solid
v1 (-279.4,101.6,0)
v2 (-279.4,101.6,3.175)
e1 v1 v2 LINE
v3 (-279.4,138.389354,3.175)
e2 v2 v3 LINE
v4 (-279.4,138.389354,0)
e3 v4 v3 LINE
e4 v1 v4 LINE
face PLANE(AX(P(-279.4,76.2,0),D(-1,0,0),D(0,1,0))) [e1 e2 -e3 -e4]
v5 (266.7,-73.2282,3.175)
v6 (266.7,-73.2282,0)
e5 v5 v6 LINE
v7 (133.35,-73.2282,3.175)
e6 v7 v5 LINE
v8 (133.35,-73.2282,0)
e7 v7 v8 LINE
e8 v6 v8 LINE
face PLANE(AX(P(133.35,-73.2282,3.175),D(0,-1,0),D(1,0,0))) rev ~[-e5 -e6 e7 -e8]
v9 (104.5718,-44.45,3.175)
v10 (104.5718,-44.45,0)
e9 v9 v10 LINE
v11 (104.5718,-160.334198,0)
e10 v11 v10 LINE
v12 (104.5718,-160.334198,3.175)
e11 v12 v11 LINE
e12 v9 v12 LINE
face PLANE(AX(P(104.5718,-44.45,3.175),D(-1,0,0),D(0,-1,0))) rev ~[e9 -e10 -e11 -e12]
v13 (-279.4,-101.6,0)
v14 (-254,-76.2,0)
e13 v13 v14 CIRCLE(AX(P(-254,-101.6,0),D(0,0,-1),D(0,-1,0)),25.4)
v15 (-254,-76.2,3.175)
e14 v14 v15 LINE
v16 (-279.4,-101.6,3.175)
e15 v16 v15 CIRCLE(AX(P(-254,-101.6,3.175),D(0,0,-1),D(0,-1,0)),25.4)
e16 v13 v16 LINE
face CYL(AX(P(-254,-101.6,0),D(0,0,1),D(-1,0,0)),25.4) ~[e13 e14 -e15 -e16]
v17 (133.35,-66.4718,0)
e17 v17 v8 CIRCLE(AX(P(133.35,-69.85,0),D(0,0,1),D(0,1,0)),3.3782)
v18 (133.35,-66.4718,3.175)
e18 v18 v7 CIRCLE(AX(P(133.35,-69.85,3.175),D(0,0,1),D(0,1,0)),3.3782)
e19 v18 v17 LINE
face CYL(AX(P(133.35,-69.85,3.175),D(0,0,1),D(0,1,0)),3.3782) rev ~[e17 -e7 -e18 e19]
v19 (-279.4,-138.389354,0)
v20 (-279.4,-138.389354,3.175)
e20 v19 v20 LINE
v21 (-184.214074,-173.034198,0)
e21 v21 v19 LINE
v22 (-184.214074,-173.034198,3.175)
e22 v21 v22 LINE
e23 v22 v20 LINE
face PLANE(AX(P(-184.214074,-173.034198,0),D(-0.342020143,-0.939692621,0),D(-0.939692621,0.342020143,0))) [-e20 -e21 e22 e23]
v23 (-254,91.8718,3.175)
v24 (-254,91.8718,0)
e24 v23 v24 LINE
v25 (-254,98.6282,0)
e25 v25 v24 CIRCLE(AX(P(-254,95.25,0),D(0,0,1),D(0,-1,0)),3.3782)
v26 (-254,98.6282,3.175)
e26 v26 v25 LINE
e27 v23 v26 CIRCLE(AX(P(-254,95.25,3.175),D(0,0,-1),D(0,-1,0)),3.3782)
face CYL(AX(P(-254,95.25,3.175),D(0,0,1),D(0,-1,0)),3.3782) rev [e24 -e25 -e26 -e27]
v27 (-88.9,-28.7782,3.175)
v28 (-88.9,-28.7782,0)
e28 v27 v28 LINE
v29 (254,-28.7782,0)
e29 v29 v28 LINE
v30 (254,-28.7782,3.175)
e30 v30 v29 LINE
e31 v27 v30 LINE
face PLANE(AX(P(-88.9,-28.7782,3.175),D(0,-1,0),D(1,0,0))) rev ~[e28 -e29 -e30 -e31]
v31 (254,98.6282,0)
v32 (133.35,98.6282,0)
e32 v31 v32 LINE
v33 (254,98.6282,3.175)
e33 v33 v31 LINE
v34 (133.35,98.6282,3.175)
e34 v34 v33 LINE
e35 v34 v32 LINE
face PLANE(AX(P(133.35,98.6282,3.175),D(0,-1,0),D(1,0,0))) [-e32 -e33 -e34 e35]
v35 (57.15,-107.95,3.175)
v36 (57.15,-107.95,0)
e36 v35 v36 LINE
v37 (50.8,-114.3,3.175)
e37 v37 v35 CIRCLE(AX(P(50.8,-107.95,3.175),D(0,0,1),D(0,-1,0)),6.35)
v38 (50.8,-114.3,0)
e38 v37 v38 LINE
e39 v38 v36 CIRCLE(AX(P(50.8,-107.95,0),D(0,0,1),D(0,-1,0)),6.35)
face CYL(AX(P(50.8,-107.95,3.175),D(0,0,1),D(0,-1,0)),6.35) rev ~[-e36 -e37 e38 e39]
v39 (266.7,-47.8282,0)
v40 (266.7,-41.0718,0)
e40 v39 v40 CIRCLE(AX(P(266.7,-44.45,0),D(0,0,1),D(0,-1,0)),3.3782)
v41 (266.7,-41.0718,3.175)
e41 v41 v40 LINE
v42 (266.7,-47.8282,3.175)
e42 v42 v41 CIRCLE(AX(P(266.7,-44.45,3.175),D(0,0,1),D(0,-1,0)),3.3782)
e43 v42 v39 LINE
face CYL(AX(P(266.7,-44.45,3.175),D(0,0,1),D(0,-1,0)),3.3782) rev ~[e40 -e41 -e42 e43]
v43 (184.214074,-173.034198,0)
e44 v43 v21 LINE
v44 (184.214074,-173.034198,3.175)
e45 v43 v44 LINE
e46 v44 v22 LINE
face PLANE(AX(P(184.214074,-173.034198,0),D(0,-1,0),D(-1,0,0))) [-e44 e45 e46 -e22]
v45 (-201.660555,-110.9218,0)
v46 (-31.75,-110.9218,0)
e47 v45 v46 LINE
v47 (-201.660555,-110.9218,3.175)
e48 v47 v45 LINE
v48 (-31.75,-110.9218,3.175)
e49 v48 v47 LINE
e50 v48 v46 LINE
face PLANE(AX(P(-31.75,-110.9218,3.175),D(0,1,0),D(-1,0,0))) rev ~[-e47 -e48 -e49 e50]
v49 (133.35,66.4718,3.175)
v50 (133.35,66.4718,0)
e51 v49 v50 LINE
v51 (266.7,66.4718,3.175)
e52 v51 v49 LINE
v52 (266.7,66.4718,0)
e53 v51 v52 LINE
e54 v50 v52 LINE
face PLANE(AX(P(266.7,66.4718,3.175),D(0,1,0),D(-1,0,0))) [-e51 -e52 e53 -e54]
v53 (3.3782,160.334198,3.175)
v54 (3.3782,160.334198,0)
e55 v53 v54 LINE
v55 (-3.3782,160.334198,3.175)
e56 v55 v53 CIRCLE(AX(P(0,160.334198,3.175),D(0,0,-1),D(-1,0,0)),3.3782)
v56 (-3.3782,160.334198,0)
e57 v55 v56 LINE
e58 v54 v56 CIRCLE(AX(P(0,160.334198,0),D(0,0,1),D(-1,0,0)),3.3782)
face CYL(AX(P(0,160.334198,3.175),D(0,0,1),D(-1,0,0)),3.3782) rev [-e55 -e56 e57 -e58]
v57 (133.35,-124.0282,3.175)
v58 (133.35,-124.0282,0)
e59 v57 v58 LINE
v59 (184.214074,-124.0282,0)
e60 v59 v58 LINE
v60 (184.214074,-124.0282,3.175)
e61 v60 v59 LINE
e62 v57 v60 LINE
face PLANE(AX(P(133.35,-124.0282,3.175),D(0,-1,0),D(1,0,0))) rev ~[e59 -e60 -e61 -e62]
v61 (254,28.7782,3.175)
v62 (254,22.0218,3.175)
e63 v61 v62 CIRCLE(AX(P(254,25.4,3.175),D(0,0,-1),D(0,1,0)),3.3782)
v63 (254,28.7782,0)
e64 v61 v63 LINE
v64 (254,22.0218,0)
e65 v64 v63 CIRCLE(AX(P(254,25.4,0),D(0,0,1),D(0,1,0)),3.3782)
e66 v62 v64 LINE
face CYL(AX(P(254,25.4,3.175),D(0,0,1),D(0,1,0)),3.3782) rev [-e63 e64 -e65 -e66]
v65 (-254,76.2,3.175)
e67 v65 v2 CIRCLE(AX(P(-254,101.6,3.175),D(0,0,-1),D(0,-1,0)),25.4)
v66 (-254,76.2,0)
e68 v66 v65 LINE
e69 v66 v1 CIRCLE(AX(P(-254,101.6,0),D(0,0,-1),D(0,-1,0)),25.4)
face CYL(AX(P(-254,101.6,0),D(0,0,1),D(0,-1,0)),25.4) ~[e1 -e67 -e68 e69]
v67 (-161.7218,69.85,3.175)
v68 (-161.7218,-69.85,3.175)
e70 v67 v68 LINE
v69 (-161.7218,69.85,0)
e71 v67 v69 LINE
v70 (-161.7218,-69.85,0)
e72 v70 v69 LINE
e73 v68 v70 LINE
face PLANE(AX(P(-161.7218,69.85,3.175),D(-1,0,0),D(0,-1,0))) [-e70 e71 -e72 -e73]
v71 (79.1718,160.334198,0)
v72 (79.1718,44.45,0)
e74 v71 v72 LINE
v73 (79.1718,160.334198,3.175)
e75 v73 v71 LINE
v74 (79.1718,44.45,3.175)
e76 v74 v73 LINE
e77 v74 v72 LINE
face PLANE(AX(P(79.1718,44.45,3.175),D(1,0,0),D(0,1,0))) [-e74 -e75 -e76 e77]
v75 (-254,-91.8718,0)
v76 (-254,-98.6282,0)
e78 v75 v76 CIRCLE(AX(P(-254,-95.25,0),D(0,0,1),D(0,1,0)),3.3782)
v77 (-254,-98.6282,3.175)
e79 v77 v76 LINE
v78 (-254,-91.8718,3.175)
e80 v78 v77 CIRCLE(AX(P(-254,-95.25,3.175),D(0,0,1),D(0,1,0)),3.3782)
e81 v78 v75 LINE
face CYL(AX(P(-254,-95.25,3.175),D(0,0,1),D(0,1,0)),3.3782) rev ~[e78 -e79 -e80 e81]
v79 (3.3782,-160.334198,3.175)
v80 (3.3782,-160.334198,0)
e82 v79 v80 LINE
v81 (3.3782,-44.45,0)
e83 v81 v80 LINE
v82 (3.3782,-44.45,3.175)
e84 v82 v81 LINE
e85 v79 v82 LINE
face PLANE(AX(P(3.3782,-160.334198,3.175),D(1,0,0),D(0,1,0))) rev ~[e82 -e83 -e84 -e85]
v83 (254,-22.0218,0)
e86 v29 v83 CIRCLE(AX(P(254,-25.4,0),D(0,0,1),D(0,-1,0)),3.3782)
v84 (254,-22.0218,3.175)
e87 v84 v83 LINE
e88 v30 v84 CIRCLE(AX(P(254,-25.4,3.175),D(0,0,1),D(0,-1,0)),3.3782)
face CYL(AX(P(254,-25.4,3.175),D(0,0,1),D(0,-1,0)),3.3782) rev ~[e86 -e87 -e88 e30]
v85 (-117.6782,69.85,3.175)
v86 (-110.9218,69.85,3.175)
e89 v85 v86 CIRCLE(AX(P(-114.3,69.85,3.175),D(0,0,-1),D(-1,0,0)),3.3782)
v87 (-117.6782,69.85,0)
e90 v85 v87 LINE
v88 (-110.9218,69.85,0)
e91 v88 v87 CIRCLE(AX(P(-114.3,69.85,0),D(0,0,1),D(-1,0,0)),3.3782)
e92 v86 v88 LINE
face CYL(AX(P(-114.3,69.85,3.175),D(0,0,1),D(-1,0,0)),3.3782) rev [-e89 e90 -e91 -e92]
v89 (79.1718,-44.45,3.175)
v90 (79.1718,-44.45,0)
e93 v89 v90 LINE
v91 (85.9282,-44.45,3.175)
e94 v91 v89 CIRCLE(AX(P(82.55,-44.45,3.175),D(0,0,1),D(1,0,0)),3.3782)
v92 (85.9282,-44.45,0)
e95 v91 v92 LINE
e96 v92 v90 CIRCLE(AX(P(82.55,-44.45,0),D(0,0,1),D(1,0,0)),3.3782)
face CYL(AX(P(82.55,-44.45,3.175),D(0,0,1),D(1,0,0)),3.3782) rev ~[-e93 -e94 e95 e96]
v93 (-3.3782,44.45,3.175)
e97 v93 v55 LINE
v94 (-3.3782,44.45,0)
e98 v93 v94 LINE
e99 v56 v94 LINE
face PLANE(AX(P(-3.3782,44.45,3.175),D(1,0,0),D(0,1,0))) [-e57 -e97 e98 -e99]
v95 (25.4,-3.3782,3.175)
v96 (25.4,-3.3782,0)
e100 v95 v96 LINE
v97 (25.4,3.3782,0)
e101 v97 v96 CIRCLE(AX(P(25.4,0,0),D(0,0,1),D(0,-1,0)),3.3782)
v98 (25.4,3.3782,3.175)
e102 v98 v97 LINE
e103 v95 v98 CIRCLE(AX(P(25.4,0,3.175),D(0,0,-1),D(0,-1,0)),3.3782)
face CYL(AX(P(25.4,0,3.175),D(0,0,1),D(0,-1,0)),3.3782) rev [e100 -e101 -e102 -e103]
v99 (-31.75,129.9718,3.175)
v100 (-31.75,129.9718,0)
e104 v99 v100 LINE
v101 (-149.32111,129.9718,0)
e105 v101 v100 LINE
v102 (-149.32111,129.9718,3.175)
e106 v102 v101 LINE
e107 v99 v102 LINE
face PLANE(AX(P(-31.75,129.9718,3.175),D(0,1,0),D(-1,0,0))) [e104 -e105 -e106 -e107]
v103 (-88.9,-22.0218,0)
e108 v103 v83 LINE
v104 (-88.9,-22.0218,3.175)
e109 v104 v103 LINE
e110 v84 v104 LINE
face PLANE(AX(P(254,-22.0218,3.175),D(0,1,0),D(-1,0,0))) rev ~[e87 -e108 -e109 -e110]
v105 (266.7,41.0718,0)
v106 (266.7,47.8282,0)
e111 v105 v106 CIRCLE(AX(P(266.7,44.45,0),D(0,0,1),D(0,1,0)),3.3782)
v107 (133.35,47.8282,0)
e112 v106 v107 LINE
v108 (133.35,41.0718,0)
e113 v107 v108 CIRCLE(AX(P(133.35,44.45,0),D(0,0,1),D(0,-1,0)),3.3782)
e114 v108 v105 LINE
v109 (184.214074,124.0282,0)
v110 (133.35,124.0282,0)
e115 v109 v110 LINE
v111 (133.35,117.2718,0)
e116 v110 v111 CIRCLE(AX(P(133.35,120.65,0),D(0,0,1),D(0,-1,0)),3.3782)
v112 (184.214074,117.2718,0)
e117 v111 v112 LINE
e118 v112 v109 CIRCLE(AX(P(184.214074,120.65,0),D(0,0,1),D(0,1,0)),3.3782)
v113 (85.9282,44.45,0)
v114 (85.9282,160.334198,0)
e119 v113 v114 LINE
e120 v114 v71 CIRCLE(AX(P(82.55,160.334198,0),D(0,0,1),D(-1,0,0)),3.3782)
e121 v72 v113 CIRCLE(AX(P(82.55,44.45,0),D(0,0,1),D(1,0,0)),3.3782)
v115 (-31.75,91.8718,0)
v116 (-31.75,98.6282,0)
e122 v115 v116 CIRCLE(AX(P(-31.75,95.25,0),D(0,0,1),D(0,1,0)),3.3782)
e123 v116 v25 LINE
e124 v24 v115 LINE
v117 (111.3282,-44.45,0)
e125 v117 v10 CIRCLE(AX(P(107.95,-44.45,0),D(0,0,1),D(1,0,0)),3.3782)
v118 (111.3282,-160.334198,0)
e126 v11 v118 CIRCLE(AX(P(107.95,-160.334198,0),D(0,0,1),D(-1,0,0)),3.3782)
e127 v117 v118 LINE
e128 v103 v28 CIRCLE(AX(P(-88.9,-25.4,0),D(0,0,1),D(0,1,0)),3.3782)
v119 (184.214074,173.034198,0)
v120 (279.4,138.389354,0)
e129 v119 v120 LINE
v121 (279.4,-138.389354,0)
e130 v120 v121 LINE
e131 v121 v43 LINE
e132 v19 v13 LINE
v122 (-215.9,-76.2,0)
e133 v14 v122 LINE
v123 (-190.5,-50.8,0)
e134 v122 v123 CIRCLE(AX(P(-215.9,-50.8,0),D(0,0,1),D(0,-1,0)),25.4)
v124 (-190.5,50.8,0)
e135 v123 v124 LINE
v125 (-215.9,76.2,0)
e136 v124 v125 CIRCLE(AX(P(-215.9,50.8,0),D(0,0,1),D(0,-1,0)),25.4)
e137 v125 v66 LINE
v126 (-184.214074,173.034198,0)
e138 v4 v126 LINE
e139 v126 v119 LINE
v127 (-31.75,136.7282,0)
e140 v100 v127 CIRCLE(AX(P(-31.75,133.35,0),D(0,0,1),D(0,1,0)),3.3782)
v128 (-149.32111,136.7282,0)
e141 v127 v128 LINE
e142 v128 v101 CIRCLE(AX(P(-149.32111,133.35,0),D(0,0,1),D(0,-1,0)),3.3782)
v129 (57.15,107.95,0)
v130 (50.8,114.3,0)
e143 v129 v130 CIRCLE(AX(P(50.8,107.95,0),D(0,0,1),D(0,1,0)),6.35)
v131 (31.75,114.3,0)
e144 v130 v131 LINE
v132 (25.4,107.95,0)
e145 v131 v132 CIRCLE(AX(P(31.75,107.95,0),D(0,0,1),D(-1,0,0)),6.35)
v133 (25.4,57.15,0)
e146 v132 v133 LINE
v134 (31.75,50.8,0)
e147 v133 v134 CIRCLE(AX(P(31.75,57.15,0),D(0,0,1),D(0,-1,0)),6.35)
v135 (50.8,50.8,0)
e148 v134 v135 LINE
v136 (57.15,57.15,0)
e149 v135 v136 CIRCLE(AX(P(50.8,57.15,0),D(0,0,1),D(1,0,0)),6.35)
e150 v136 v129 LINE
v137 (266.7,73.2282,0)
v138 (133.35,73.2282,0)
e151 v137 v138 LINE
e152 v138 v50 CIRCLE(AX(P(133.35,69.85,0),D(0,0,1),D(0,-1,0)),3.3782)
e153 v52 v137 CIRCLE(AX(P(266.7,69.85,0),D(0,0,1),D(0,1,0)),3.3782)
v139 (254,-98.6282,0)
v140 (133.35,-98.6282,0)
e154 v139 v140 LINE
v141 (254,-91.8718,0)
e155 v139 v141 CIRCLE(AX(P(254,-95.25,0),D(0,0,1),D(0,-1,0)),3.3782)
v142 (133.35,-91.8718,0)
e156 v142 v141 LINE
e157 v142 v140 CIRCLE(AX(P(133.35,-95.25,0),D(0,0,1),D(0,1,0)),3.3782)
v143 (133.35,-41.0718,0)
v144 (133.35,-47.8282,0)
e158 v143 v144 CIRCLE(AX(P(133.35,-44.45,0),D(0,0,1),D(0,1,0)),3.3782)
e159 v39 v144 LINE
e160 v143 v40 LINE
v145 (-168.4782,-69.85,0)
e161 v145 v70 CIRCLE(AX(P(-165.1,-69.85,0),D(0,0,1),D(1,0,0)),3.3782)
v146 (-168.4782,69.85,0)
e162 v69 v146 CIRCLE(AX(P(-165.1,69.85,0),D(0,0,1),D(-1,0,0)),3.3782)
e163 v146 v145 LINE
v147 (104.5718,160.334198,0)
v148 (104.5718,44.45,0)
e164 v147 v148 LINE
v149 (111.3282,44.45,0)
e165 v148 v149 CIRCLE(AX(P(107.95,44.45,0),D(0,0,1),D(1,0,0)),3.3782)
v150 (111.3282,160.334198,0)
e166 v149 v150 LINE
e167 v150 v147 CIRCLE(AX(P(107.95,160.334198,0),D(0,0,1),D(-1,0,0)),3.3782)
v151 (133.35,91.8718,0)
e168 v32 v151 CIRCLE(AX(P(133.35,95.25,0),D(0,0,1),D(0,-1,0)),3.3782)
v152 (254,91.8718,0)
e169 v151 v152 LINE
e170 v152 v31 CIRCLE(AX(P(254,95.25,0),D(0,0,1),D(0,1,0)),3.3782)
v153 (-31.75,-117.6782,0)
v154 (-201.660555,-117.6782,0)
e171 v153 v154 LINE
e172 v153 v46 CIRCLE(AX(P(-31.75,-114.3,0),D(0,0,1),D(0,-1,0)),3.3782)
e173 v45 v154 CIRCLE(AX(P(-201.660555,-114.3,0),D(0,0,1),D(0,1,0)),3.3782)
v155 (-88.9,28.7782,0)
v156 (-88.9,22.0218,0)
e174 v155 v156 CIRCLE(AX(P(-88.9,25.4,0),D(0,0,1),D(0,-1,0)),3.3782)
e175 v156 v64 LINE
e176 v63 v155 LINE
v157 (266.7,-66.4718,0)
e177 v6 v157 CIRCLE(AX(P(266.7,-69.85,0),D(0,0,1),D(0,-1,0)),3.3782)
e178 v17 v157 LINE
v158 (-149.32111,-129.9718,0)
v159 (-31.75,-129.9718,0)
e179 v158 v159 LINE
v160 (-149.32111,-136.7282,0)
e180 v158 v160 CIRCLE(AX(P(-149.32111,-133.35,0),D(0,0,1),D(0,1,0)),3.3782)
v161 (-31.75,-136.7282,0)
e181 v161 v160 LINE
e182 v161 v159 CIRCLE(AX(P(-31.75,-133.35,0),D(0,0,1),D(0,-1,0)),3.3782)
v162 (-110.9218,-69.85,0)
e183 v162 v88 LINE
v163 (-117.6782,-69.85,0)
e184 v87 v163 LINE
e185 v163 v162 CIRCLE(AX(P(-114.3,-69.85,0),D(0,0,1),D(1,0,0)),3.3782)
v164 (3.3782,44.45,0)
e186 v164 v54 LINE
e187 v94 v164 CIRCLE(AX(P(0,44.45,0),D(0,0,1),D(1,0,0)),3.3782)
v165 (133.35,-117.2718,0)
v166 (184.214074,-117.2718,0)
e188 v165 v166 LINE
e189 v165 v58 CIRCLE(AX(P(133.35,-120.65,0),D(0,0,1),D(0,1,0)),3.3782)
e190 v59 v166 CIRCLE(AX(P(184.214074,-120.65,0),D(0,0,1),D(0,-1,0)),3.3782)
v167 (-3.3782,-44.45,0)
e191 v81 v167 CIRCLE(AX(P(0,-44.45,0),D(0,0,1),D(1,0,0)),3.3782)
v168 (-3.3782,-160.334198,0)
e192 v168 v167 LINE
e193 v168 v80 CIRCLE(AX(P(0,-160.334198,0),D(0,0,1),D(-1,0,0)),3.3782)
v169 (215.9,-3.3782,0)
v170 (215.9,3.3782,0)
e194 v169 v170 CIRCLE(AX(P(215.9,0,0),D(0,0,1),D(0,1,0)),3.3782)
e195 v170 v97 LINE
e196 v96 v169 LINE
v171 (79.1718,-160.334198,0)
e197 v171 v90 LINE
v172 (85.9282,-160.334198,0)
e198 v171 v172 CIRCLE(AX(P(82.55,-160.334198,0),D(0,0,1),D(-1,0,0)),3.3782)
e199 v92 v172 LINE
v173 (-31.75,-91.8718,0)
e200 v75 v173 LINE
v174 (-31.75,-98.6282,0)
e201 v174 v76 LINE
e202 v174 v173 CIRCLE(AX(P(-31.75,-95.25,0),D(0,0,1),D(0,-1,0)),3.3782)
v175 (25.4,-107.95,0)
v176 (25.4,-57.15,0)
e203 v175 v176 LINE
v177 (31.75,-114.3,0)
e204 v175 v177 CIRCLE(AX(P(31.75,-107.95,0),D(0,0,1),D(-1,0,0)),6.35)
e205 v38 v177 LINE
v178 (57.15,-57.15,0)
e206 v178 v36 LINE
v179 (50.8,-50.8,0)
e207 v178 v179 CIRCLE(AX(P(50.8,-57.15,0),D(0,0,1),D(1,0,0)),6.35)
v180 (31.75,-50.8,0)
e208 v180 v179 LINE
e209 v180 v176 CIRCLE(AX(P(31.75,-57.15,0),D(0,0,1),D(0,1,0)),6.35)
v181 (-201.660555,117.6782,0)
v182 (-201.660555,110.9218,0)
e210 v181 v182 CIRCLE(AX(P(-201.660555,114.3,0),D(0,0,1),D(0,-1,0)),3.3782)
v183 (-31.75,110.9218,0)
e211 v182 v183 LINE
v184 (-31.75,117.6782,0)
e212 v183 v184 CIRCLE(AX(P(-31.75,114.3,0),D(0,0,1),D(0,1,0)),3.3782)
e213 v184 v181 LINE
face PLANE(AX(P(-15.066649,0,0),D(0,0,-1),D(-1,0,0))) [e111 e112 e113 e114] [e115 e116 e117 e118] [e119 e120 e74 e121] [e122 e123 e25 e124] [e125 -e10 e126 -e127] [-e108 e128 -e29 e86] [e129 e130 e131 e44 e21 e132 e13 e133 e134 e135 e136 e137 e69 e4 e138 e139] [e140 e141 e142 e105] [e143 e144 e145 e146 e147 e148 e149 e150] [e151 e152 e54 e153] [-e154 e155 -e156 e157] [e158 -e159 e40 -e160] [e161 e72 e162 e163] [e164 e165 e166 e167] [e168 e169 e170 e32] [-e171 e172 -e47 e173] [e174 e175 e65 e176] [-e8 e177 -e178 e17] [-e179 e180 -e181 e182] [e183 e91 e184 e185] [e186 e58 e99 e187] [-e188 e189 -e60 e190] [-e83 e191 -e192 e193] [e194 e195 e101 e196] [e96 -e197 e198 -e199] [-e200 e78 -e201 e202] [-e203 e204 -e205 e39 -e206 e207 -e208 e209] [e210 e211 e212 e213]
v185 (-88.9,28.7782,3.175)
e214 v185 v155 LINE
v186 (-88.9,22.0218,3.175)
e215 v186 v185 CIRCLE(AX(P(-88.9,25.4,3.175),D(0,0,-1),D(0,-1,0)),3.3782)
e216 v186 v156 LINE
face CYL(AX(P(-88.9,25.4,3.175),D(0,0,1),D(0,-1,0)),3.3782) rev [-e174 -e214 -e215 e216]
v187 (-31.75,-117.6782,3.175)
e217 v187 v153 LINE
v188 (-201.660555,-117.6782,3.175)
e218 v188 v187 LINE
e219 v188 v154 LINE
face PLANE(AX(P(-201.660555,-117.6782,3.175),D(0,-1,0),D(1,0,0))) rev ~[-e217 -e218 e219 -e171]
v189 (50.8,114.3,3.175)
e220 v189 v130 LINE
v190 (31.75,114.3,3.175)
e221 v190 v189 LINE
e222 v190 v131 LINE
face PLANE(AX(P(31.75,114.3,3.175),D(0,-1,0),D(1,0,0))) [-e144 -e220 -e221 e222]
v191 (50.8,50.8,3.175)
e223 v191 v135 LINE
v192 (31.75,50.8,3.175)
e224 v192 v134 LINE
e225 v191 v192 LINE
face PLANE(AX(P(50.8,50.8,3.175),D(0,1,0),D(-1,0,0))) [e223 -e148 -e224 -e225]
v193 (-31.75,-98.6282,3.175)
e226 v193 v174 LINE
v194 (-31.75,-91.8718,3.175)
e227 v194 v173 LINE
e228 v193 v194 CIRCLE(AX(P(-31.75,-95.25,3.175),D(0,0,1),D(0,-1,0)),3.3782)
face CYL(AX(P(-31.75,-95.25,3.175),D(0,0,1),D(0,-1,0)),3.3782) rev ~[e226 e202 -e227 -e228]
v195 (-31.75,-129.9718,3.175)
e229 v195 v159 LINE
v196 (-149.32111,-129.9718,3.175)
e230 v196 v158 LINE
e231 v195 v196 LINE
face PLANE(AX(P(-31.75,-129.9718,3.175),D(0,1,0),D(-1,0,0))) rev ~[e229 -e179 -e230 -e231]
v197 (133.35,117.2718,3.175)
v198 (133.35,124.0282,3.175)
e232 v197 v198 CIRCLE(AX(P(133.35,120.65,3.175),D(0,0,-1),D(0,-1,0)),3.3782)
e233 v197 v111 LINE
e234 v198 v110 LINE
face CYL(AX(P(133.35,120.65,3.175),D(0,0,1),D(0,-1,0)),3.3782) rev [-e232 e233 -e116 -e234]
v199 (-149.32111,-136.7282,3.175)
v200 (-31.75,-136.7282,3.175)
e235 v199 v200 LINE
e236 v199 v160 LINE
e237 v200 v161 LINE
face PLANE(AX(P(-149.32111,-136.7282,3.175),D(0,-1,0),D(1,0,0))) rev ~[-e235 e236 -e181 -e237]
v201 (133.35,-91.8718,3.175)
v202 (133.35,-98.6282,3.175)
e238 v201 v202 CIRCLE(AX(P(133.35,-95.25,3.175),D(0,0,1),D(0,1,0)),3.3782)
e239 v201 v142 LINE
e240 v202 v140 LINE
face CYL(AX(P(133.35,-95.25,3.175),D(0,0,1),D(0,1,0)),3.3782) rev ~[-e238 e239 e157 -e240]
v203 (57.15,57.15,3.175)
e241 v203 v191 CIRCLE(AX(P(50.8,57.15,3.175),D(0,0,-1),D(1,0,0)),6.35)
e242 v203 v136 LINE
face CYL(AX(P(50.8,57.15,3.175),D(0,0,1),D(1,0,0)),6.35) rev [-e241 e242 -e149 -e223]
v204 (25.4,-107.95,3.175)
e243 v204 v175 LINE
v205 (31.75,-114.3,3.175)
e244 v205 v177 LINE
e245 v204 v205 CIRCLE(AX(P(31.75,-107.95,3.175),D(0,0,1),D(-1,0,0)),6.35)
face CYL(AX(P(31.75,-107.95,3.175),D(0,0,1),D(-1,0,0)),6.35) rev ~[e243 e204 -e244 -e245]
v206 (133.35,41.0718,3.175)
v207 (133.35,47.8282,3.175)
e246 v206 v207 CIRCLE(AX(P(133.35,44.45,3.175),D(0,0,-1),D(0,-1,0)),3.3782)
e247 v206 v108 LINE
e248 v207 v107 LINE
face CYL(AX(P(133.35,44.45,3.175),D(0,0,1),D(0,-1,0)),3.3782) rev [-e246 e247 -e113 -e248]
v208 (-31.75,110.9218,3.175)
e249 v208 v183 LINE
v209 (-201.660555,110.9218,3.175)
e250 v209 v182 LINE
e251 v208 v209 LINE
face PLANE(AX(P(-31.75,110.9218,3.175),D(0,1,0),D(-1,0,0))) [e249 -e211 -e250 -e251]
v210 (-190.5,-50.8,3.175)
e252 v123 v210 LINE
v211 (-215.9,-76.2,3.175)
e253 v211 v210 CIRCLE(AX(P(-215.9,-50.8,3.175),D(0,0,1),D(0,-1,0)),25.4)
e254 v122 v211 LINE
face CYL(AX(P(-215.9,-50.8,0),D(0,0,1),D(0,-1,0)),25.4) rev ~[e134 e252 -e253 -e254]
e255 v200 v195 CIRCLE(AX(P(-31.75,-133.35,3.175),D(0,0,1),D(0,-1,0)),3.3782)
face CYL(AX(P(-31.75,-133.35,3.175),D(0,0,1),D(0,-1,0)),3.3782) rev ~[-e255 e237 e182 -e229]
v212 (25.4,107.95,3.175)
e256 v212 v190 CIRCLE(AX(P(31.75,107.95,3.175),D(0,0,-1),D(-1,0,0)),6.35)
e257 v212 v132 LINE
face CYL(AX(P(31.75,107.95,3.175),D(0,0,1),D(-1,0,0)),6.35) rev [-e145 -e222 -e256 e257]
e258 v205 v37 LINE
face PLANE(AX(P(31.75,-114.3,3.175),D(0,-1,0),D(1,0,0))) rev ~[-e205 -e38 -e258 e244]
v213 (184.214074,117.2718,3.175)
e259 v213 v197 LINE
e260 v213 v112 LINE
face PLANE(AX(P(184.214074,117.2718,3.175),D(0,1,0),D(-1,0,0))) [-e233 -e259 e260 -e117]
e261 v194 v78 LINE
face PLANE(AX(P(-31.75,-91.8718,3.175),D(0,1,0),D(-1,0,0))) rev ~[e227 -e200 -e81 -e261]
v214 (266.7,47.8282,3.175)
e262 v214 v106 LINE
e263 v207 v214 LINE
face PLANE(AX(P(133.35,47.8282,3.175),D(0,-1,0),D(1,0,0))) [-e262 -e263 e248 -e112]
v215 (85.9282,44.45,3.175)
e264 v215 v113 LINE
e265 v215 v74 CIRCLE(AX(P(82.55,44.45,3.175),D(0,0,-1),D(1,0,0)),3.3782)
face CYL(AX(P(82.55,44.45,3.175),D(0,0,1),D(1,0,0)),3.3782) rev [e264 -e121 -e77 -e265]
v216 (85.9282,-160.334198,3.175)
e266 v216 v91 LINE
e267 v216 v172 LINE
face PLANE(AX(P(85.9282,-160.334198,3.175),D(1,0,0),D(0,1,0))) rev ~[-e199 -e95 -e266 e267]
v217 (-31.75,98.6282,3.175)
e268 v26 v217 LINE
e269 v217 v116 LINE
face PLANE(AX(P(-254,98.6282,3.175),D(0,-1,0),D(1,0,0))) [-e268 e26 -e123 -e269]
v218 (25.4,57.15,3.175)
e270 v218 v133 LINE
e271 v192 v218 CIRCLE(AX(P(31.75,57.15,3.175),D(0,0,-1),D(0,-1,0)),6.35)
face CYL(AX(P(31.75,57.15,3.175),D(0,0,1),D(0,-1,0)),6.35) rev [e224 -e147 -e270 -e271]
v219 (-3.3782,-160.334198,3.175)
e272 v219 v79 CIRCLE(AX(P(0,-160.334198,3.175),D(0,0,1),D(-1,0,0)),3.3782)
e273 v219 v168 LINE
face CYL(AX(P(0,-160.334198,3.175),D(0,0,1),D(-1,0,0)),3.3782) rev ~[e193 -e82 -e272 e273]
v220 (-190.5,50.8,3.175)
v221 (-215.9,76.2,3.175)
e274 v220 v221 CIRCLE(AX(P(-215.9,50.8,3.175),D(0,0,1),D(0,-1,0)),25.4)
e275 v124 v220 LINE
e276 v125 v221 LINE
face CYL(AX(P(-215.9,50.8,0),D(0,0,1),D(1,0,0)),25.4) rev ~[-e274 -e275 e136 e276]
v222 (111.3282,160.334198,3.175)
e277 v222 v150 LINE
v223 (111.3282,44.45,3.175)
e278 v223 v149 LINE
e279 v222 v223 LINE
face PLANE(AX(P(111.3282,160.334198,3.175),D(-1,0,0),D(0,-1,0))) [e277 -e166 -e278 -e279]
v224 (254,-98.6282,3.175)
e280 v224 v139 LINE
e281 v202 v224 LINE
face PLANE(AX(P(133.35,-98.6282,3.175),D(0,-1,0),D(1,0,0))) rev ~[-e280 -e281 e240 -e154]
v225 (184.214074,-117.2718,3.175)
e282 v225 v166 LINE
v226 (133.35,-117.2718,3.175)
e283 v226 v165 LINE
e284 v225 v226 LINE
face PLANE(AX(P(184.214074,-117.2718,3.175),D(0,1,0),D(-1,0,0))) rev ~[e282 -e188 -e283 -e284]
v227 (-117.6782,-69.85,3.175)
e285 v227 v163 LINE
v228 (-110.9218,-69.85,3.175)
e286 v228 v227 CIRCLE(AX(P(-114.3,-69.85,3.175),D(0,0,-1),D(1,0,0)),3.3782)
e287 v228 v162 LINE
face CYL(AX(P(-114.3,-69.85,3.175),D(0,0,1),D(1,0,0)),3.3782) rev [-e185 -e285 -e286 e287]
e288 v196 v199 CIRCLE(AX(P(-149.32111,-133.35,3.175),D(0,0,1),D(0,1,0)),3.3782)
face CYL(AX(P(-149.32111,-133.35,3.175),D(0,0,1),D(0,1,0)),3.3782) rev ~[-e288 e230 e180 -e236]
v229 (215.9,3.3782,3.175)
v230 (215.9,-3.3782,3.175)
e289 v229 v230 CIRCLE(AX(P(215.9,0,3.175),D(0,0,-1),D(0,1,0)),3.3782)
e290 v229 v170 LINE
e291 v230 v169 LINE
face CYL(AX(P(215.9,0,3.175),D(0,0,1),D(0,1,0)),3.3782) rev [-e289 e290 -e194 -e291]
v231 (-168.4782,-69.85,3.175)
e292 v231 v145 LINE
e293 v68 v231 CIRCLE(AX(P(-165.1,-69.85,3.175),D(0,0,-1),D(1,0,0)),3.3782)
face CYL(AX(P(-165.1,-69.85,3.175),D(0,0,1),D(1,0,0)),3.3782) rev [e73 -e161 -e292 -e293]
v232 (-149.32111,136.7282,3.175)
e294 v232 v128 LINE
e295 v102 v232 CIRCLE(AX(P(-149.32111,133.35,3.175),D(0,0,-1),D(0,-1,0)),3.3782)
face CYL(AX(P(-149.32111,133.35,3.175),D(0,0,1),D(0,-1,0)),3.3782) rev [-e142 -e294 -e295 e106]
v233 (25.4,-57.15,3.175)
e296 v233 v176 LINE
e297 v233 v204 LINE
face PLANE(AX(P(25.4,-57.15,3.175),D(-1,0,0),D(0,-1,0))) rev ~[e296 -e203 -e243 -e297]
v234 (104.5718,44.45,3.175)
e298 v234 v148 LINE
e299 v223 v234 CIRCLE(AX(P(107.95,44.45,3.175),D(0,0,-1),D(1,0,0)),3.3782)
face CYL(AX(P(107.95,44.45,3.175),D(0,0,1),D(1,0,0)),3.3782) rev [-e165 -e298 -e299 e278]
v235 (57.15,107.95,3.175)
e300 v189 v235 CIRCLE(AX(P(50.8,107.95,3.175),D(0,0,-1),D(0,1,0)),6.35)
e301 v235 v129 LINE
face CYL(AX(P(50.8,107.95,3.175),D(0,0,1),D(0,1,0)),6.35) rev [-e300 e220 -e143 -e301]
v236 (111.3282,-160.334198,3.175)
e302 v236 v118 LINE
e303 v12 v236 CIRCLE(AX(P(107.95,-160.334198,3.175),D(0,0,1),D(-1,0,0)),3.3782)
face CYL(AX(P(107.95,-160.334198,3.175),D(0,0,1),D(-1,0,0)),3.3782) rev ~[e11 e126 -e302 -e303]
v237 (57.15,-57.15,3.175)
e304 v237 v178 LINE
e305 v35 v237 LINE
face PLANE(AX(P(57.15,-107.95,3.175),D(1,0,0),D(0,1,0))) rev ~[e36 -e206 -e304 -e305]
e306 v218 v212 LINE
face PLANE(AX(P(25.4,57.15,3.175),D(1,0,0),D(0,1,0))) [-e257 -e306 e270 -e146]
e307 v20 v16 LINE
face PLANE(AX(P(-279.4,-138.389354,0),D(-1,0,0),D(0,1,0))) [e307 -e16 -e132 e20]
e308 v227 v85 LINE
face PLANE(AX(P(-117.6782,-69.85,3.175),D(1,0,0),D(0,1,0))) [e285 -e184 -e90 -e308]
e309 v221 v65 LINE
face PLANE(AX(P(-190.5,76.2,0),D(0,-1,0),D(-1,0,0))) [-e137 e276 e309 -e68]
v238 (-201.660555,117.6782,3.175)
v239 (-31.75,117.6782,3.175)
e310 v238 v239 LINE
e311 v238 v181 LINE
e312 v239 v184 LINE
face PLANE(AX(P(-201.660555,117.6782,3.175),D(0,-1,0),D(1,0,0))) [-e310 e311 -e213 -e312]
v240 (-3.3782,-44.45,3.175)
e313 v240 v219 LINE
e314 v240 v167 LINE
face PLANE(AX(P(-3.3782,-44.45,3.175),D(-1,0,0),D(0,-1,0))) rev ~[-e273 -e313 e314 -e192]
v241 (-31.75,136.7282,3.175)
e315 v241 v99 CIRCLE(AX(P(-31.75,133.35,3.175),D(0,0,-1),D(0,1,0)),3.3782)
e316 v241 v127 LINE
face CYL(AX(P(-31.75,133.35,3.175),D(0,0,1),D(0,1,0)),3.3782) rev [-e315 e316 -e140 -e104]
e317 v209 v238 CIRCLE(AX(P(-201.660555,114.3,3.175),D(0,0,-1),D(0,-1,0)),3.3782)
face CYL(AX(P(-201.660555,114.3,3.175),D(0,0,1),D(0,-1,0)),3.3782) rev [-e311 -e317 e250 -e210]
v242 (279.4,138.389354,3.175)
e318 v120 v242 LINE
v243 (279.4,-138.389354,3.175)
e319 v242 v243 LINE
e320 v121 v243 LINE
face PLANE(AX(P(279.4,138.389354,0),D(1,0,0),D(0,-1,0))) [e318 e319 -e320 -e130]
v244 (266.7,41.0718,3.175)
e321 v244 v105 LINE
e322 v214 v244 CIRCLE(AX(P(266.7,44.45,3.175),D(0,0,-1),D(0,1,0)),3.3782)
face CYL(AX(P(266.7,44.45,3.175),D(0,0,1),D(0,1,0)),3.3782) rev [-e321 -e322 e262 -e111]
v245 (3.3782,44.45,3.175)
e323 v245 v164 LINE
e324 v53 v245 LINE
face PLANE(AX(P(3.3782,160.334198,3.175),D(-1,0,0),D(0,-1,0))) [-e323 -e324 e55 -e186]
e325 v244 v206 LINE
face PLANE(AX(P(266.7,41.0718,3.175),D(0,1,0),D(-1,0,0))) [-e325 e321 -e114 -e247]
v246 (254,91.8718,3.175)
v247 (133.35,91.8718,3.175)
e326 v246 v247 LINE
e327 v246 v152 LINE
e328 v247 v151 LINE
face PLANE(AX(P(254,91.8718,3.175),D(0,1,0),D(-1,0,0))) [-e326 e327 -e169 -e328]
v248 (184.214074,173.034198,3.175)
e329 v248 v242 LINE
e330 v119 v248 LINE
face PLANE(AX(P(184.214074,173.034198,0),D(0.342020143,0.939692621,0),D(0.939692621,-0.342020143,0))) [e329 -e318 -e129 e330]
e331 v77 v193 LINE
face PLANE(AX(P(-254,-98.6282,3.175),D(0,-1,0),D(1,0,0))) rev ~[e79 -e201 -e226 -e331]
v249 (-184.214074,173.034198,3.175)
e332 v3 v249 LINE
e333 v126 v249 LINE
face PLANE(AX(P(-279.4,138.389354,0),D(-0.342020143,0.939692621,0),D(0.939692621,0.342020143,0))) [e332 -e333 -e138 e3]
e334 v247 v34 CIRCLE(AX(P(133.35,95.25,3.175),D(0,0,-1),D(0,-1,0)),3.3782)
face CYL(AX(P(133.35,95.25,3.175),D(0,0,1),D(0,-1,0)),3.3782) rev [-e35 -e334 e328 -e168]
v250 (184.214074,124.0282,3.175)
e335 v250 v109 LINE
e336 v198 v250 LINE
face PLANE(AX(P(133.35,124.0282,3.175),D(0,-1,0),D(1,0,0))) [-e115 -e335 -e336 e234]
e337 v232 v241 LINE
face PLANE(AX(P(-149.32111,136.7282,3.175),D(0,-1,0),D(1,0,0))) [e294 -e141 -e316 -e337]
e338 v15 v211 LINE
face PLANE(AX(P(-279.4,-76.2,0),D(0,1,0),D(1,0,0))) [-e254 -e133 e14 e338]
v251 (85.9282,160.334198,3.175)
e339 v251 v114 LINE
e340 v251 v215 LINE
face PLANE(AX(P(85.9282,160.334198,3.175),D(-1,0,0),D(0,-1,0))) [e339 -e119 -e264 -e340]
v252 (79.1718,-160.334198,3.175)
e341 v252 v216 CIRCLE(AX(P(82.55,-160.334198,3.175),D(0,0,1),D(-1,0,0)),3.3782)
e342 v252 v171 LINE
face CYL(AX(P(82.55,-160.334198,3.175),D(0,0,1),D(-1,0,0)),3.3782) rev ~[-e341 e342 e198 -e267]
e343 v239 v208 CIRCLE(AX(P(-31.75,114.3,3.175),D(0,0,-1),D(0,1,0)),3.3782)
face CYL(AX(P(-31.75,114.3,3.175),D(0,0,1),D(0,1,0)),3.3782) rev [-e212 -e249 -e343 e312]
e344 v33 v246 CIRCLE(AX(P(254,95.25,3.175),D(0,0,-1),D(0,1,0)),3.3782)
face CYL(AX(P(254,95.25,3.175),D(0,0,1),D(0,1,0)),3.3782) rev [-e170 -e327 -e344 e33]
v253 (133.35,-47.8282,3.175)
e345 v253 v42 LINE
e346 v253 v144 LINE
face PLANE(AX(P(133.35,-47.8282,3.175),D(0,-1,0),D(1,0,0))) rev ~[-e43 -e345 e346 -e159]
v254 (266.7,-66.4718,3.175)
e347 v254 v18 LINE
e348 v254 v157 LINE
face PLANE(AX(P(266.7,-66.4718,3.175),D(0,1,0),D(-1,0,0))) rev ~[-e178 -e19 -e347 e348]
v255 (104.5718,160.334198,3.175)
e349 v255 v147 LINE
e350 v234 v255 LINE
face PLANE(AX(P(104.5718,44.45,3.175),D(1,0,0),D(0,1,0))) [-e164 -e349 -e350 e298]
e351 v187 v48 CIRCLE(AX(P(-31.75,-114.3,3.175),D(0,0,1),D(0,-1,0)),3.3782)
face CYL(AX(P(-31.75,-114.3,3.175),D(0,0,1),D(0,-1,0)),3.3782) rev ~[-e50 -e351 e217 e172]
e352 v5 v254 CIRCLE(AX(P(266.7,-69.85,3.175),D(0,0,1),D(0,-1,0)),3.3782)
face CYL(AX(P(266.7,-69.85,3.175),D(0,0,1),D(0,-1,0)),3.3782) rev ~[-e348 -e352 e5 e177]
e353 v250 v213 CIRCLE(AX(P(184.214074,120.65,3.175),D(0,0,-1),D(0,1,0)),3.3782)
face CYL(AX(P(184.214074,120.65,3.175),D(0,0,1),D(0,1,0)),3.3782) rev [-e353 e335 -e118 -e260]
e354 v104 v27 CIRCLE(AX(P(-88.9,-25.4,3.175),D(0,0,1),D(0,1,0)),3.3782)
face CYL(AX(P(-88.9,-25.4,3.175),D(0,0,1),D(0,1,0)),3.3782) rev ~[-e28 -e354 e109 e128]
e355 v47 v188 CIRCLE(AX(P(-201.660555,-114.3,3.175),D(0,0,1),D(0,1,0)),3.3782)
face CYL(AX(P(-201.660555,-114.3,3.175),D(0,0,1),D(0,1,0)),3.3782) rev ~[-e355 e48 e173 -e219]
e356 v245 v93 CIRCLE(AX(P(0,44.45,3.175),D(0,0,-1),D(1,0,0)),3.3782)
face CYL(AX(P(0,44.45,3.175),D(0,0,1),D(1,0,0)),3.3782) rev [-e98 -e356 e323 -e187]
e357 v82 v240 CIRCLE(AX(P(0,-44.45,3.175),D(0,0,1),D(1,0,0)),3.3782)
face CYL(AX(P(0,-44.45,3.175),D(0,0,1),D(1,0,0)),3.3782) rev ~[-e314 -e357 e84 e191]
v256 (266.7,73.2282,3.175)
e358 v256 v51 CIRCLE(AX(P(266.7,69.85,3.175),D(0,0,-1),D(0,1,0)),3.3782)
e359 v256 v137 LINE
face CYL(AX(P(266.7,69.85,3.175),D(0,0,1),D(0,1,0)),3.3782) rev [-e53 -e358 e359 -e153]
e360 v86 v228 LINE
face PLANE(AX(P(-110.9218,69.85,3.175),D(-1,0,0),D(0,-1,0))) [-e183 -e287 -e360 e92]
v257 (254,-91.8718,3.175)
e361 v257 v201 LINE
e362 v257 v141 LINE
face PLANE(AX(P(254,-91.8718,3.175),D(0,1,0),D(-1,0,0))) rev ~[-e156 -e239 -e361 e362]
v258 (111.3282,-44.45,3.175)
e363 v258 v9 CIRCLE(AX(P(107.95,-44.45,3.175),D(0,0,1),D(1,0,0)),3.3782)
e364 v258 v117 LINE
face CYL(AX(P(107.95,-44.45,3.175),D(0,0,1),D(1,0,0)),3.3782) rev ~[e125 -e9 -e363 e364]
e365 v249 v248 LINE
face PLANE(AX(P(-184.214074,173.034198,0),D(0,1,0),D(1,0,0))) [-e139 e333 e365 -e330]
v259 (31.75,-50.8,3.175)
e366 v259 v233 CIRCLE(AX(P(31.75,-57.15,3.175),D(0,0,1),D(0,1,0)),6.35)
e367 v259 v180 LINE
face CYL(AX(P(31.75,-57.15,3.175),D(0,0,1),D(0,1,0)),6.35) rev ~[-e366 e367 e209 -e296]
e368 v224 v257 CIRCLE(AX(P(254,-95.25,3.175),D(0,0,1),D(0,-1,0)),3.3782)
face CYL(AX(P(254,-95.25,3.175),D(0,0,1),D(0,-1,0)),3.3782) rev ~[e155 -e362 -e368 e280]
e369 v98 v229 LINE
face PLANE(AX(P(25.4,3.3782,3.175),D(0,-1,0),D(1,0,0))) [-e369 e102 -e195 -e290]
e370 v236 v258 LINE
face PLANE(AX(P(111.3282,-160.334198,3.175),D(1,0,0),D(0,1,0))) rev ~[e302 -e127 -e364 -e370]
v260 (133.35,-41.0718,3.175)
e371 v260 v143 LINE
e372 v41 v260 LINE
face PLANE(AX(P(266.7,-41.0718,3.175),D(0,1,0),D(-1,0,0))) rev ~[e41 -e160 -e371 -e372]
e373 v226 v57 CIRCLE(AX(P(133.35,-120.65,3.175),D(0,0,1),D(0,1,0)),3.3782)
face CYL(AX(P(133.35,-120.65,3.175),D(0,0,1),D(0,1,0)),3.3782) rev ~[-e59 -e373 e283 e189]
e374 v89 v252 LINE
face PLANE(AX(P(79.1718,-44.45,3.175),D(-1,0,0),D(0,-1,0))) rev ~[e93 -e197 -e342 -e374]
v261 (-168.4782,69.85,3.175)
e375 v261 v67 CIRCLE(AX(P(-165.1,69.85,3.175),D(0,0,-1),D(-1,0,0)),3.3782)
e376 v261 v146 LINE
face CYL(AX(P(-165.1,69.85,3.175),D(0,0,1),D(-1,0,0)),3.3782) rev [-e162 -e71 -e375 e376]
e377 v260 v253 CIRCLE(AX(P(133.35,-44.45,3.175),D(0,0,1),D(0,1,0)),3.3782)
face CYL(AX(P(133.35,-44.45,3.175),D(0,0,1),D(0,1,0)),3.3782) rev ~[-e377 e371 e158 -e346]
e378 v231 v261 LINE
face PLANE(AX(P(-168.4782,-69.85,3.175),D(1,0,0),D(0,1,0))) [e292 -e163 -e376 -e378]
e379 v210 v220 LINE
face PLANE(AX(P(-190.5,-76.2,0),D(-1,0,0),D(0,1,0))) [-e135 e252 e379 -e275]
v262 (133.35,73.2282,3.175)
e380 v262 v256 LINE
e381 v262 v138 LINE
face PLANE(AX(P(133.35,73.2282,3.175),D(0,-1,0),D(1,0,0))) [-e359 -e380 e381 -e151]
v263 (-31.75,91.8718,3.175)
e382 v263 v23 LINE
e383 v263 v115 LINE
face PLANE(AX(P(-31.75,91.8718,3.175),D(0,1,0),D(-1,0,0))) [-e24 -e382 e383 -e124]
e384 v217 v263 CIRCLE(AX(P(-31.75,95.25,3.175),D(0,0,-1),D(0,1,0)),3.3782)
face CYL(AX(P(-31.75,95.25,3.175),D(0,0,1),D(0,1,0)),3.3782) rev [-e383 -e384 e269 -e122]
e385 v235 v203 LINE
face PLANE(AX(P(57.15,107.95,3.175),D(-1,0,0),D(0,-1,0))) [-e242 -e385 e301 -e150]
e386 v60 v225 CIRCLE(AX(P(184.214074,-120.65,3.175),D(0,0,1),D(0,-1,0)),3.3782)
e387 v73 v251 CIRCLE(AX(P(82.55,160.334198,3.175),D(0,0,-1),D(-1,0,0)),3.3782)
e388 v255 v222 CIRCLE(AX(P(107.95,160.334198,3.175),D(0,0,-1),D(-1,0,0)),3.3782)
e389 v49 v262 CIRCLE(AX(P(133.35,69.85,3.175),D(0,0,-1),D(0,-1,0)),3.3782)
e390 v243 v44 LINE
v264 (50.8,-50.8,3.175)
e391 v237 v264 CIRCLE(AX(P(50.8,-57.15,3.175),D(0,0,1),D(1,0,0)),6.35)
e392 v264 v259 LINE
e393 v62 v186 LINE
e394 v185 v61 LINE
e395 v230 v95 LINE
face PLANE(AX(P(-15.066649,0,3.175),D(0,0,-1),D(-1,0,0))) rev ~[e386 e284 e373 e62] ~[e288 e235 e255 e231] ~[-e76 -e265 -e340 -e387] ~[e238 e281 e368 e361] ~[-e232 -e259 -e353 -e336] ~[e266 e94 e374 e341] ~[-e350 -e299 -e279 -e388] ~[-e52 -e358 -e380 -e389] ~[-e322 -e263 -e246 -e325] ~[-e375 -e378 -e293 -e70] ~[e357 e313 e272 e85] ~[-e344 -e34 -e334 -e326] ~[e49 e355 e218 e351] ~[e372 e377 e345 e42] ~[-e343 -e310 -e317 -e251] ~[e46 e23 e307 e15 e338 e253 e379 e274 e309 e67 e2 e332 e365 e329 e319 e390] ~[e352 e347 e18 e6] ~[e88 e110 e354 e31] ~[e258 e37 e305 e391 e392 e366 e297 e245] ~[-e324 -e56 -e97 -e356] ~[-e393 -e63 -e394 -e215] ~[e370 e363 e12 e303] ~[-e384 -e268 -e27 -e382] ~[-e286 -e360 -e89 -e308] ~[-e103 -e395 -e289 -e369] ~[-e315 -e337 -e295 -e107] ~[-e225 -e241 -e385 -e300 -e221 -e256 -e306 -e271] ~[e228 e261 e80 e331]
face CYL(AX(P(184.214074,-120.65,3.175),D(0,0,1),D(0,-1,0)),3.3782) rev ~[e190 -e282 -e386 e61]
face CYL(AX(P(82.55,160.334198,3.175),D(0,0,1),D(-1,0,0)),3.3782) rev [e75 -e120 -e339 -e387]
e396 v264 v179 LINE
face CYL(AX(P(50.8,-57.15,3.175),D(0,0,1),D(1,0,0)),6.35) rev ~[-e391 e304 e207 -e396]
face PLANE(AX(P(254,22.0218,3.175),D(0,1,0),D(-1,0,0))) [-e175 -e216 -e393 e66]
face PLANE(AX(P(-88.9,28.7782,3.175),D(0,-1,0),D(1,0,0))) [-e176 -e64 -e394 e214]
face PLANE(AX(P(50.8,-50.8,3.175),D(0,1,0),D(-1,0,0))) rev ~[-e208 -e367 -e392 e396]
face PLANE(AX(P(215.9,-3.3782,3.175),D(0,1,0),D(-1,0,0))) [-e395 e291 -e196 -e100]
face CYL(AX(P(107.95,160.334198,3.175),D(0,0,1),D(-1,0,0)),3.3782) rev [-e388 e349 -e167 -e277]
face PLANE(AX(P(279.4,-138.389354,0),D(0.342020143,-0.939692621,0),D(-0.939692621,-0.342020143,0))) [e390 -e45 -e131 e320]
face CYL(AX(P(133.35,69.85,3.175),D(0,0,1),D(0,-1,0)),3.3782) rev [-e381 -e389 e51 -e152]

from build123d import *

# Parameters (mm, degrees)
BOSS_EXTRUDE1_DEPTH = 3.175
FILLET3_R           = 25.4
CUT_EXTRUDE3_DEPTH  = 4.175


with BuildPart() as part:
    # Sketch1 → Boss-Extrude1 (new body)
    with BuildSketch(Plane.XY):
        Polygon((-279.4, 138.38935405), (-184.214073546, 173.034198), (184.214073546, 173.034198), (279.4, 138.38935405), (279.4, -138.38935405), (184.214073546, -173.034198), (-184.214073546, -173.034198), (-279.4, -138.38935405), (-279.4, -76.2), (-190.5, -76.2), (-190.5, 76.2), (-279.4, 76.2), align=None)
    extrude(amount=BOSS_EXTRUDE1_DEPTH)

    # Fillet3
    fillet3_edges = [part.edges().sort_by_distance(p)[0] for p in [
        (-279.4, -76.2, 1.5875),
        (-190.5, -76.2, 1.5875),
        (-190.5, 76.2, 1.5875),
        (-279.4, 76.2, 1.5875),
    ]]
    fillet(fillet3_edges, radius=FILLET3_R)

    # Sketch4 → Cut-Extrude3 (cut, through all)
    with BuildSketch(Plane.XY.offset(3.175)):
        with BuildLine():
            Line((-254, 98.6282), (-31.75, 98.6282))
            ThreePointArc((-31.75, 98.6282), (-28.3718, 95.25), (-31.75, 91.8718))
            Line((-31.75, 91.8718), (-254, 91.8718))
            ThreePointArc((-254, 91.8718), (-257.3782, 95.25), (-254, 98.6282))
        make_face()
        with BuildLine():
            Line((-201.660555159, 117.6782), (-31.75, 117.6782))
            ThreePointArc((-31.75, 117.6782), (-28.3718, 114.3), (-31.75, 110.9218))
            Line((-31.75, 110.9218), (-201.660555159, 110.9218))
            ThreePointArc((-201.660555159, 110.9218), (-205.038755159, 114.3), (-201.660555159, 117.6782))
        make_face()
        with BuildLine():
            Line((-149.321110319, 136.7282), (-31.75, 136.7282))
            ThreePointArc((-31.75, 136.7282), (-28.3718, 133.35), (-31.75, 129.9718))
            Line((-31.75, 129.9718), (-149.321110319, 129.9718))
            ThreePointArc((-149.321110319, 129.9718), (-152.699310319, 133.35), (-149.321110319, 136.7282))
        make_face()
        with BuildLine():
            Line((-161.7218, 69.85), (-161.7218, -69.85))
            ThreePointArc((-161.7218, -69.85), (-165.1, -73.2282), (-168.4782, -69.85))
            Line((-168.4782, -69.85), (-168.4782, 69.85))
            ThreePointArc((-168.4782, 69.85), (-165.1, 73.2282), (-161.7218, 69.85))
        make_face()
        with BuildLine():
            Line((-110.9218, 69.85), (-110.9218, -69.85))
            ThreePointArc((-110.9218, -69.85), (-114.3, -73.2282), (-117.6782, -69.85))
            Line((-117.6782, -69.85), (-117.6782, 69.85))
            ThreePointArc((-117.6782, 69.85), (-114.3, 73.2282), (-110.9218, 69.85))
        make_face()
        with BuildLine():
            Line((31.75, 114.3), (50.8, 114.3))
            ThreePointArc((50.8, 114.3), (55.290128061, 112.440128061), (57.15, 107.95))
            Line((57.15, 107.95), (57.15, 57.15))
            ThreePointArc((57.15, 57.15), (55.290128061, 52.659871939), (50.8, 50.8))
            Line((50.8, 50.8), (31.75, 50.8))
            ThreePointArc((31.75, 50.8), (27.259871939, 52.659871939), (25.4, 57.15))
            Line((25.4, 57.15), (25.4, 107.95))
            ThreePointArc((25.4, 107.95), (27.259871939, 112.440128061), (31.75, 114.3))
        make_face()
        with BuildLine():
            Line((3.3782, 160.334198), (3.3782, 44.45))
            ThreePointArc((3.3782, 44.45), (0, 41.0718), (-3.3782, 44.45))
            Line((-3.3782, 44.45), (-3.3782, 160.334198))
            ThreePointArc((-3.3782, 160.334198), (0, 163.712398), (3.3782, 160.334198))
        make_face()
        with BuildLine():
            Line((-88.9, 28.7782), (254, 28.7782))
            ThreePointArc((254, 28.7782), (257.3782, 25.4), (254, 22.0218))
            Line((254, 22.0218), (-88.9, 22.0218))
            ThreePointArc((-88.9, 22.0218), (-92.2782, 25.4), (-88.9, 28.7782))
        make_face()
        with BuildLine():
            Line((79.1718, 44.45), (79.1718, 160.334198))
            ThreePointArc((79.1718, 160.334198), (82.55, 163.712398), (85.9282, 160.334198))
            Line((85.9282, 160.334198), (85.9282, 44.45))
            ThreePointArc((85.9282, 44.45), (82.55, 41.0718), (79.1718, 44.45))
        make_face()
        with BuildLine():
            Line((111.3282, 160.334198), (111.3282, 44.45))
            ThreePointArc((111.3282, 44.45), (107.95, 41.0718), (104.5718, 44.45))
            Line((104.5718, 44.45), (104.5718, 160.334198))
            ThreePointArc((104.5718, 160.334198), (107.95, 163.712398), (111.3282, 160.334198))
        make_face()
        with BuildLine():
            Line((133.35, 124.0282), (184.214073546, 124.0282))
            ThreePointArc((184.214073546, 124.0282), (187.592273546, 120.65), (184.214073546, 117.2718))
            Line((184.214073546, 117.2718), (133.35, 117.2718))
            ThreePointArc((133.35, 117.2718), (129.9718, 120.65), (133.35, 124.0282))
        make_face()
        with BuildLine():
            Line((133.35, 98.6282), (254, 98.6282))
            ThreePointArc((254, 98.6282), (257.3782, 95.25), (254, 91.8718))
            Line((254, 91.8718), (133.35, 91.8718))
            ThreePointArc((133.35, 91.8718), (129.9718, 95.25), (133.35, 98.6282))
        make_face()
        with BuildLine():
            Line((133.35, 73.2282), (266.7, 73.2282))
            ThreePointArc((266.7, 73.2282), (270.0782, 69.85), (266.7, 66.4718))
            Line((266.7, 66.4718), (133.35, 66.4718))
            ThreePointArc((133.35, 66.4718), (129.9718, 69.85), (133.35, 73.2282))
        make_face()
        with BuildLine():
            Line((133.35, 47.8282), (266.7, 47.8282))
            ThreePointArc((266.7, 47.8282), (270.0782, 44.45), (266.7, 41.0718))
            Line((266.7, 41.0718), (133.35, 41.0718))
            ThreePointArc((133.35, 41.0718), (129.9718, 44.45), (133.35, 47.8282))
        make_face()
        with BuildLine():
            Line((-254, -98.6282), (-31.75, -98.6282))
            ThreePointArc((-31.75, -98.6282), (-28.3718, -95.25), (-31.75, -91.8718))
            Line((-31.75, -91.8718), (-254, -91.8718))
            ThreePointArc((-254, -91.8718), (-257.3782, -95.25), (-254, -98.6282))
        make_face()
        with BuildLine():
            Line((-201.660555159, -117.6782), (-31.75, -117.6782))
            ThreePointArc((-31.75, -117.6782), (-28.3718, -114.3), (-31.75, -110.9218))
            Line((-31.75, -110.9218), (-201.660555159, -110.9218))
            ThreePointArc((-201.660555159, -110.9218), (-205.038755159, -114.3), (-201.660555159, -117.6782))
        make_face()
        with BuildLine():
            Line((-149.321110319, -136.7282), (-31.75, -136.7282))
            ThreePointArc((-31.75, -136.7282), (-28.3718, -133.35), (-31.75, -129.9718))
            Line((-31.75, -129.9718), (-149.321110319, -129.9718))
            ThreePointArc((-149.321110319, -129.9718), (-152.699310319, -133.35), (-149.321110319, -136.7282))
        make_face()
        with BuildLine():
            Line((3.3782, -160.334198), (3.3782, -44.45))
            ThreePointArc((3.3782, -44.45), (0, -41.0718), (-3.3782, -44.45))
            Line((-3.3782, -44.45), (-3.3782, -160.334198))
            ThreePointArc((-3.3782, -160.334198), (0, -163.712398), (3.3782, -160.334198))
        make_face()
        with BuildLine():
            Line((-88.9, -28.7782), (254, -28.7782))
            ThreePointArc((254, -28.7782), (257.3782, -25.4), (254, -22.0218))
            Line((254, -22.0218), (-88.9, -22.0218))
            ThreePointArc((-88.9, -22.0218), (-92.2782, -25.4), (-88.9, -28.7782))
        make_face()
        with BuildLine():
            Line((79.1718, -44.45), (79.1718, -160.334198))
            ThreePointArc((79.1718, -160.334198), (82.55, -163.712398), (85.9282, -160.334198))
            Line((85.9282, -160.334198), (85.9282, -44.45))
            ThreePointArc((85.9282, -44.45), (82.55, -41.0718), (79.1718, -44.45))
        make_face()
        with BuildLine():
            Line((111.3282, -160.334198), (111.3282, -44.45))
            ThreePointArc((111.3282, -44.45), (107.95, -41.0718), (104.5718, -44.45))
            Line((104.5718, -44.45), (104.5718, -160.334198))
            ThreePointArc((104.5718, -160.334198), (107.95, -163.712398), (111.3282, -160.334198))
        make_face()
        with BuildLine():
            Line((133.35, -124.0282), (184.214073546, -124.0282))
            ThreePointArc((184.214073546, -124.0282), (187.592273546, -120.65), (184.214073546, -117.2718))
            Line((184.214073546, -117.2718), (133.35, -117.2718))
            ThreePointArc((133.35, -117.2718), (129.9718, -120.65), (133.35, -124.0282))
        make_face()
        with BuildLine():
            Line((133.35, -98.6282), (254, -98.6282))
            ThreePointArc((254, -98.6282), (257.3782, -95.25), (254, -91.8718))
            Line((254, -91.8718), (133.35, -91.8718))
            ThreePointArc((133.35, -91.8718), (129.9718, -95.25), (133.35, -98.6282))
        make_face()
        with BuildLine():
            Line((133.35, -73.2282), (266.7, -73.2282))
            ThreePointArc((266.7, -73.2282), (270.0782, -69.85), (266.7, -66.4718))
            Line((266.7, -66.4718), (133.35, -66.4718))
            ThreePointArc((133.35, -66.4718), (129.9718, -69.85), (133.35, -73.2282))
        make_face()
        with BuildLine():
            Line((133.35, -47.8282), (266.7, -47.8282))
            ThreePointArc((266.7, -47.8282), (270.0782, -44.45), (266.7, -41.0718))
            Line((266.7, -41.0718), (133.35, -41.0718))
            ThreePointArc((133.35, -41.0718), (129.9718, -44.45), (133.35, -47.8282))
        make_face()
        with BuildLine():
            Line((57.15, -107.95), (57.15, -57.15))
            ThreePointArc((57.15, -57.15), (55.290128061, -52.659871939), (50.8, -50.8))
            Line((50.8, -50.8), (31.75, -50.8))
            ThreePointArc((31.75, -50.8), (27.259871939, -52.659871939), (25.4, -57.15))
            Line((25.4, -57.15), (25.4, -107.95))
            ThreePointArc((25.4, -107.95), (27.259871939, -112.440128061), (31.75, -114.3))
            Line((31.75, -114.3), (50.8, -114.3))
            ThreePointArc((50.8, -114.3), (55.290128061, -112.440128061), (57.15, -107.95))
        make_face()
        with BuildLine():
            Line((25.4, 3.3782), (215.9, 3.3782))
            ThreePointArc((215.9, 3.3782), (219.2782, 0), (215.9, -3.3782))
            Line((215.9, -3.3782), (25.4, -3.3782))
            ThreePointArc((25.4, -3.3782), (22.0218, 0), (25.4, 3.3782))
        make_face()
    extrude(amount=-CUT_EXTRUDE3_DEPTH, mode=Mode.SUBTRACT)


solid = part.part
